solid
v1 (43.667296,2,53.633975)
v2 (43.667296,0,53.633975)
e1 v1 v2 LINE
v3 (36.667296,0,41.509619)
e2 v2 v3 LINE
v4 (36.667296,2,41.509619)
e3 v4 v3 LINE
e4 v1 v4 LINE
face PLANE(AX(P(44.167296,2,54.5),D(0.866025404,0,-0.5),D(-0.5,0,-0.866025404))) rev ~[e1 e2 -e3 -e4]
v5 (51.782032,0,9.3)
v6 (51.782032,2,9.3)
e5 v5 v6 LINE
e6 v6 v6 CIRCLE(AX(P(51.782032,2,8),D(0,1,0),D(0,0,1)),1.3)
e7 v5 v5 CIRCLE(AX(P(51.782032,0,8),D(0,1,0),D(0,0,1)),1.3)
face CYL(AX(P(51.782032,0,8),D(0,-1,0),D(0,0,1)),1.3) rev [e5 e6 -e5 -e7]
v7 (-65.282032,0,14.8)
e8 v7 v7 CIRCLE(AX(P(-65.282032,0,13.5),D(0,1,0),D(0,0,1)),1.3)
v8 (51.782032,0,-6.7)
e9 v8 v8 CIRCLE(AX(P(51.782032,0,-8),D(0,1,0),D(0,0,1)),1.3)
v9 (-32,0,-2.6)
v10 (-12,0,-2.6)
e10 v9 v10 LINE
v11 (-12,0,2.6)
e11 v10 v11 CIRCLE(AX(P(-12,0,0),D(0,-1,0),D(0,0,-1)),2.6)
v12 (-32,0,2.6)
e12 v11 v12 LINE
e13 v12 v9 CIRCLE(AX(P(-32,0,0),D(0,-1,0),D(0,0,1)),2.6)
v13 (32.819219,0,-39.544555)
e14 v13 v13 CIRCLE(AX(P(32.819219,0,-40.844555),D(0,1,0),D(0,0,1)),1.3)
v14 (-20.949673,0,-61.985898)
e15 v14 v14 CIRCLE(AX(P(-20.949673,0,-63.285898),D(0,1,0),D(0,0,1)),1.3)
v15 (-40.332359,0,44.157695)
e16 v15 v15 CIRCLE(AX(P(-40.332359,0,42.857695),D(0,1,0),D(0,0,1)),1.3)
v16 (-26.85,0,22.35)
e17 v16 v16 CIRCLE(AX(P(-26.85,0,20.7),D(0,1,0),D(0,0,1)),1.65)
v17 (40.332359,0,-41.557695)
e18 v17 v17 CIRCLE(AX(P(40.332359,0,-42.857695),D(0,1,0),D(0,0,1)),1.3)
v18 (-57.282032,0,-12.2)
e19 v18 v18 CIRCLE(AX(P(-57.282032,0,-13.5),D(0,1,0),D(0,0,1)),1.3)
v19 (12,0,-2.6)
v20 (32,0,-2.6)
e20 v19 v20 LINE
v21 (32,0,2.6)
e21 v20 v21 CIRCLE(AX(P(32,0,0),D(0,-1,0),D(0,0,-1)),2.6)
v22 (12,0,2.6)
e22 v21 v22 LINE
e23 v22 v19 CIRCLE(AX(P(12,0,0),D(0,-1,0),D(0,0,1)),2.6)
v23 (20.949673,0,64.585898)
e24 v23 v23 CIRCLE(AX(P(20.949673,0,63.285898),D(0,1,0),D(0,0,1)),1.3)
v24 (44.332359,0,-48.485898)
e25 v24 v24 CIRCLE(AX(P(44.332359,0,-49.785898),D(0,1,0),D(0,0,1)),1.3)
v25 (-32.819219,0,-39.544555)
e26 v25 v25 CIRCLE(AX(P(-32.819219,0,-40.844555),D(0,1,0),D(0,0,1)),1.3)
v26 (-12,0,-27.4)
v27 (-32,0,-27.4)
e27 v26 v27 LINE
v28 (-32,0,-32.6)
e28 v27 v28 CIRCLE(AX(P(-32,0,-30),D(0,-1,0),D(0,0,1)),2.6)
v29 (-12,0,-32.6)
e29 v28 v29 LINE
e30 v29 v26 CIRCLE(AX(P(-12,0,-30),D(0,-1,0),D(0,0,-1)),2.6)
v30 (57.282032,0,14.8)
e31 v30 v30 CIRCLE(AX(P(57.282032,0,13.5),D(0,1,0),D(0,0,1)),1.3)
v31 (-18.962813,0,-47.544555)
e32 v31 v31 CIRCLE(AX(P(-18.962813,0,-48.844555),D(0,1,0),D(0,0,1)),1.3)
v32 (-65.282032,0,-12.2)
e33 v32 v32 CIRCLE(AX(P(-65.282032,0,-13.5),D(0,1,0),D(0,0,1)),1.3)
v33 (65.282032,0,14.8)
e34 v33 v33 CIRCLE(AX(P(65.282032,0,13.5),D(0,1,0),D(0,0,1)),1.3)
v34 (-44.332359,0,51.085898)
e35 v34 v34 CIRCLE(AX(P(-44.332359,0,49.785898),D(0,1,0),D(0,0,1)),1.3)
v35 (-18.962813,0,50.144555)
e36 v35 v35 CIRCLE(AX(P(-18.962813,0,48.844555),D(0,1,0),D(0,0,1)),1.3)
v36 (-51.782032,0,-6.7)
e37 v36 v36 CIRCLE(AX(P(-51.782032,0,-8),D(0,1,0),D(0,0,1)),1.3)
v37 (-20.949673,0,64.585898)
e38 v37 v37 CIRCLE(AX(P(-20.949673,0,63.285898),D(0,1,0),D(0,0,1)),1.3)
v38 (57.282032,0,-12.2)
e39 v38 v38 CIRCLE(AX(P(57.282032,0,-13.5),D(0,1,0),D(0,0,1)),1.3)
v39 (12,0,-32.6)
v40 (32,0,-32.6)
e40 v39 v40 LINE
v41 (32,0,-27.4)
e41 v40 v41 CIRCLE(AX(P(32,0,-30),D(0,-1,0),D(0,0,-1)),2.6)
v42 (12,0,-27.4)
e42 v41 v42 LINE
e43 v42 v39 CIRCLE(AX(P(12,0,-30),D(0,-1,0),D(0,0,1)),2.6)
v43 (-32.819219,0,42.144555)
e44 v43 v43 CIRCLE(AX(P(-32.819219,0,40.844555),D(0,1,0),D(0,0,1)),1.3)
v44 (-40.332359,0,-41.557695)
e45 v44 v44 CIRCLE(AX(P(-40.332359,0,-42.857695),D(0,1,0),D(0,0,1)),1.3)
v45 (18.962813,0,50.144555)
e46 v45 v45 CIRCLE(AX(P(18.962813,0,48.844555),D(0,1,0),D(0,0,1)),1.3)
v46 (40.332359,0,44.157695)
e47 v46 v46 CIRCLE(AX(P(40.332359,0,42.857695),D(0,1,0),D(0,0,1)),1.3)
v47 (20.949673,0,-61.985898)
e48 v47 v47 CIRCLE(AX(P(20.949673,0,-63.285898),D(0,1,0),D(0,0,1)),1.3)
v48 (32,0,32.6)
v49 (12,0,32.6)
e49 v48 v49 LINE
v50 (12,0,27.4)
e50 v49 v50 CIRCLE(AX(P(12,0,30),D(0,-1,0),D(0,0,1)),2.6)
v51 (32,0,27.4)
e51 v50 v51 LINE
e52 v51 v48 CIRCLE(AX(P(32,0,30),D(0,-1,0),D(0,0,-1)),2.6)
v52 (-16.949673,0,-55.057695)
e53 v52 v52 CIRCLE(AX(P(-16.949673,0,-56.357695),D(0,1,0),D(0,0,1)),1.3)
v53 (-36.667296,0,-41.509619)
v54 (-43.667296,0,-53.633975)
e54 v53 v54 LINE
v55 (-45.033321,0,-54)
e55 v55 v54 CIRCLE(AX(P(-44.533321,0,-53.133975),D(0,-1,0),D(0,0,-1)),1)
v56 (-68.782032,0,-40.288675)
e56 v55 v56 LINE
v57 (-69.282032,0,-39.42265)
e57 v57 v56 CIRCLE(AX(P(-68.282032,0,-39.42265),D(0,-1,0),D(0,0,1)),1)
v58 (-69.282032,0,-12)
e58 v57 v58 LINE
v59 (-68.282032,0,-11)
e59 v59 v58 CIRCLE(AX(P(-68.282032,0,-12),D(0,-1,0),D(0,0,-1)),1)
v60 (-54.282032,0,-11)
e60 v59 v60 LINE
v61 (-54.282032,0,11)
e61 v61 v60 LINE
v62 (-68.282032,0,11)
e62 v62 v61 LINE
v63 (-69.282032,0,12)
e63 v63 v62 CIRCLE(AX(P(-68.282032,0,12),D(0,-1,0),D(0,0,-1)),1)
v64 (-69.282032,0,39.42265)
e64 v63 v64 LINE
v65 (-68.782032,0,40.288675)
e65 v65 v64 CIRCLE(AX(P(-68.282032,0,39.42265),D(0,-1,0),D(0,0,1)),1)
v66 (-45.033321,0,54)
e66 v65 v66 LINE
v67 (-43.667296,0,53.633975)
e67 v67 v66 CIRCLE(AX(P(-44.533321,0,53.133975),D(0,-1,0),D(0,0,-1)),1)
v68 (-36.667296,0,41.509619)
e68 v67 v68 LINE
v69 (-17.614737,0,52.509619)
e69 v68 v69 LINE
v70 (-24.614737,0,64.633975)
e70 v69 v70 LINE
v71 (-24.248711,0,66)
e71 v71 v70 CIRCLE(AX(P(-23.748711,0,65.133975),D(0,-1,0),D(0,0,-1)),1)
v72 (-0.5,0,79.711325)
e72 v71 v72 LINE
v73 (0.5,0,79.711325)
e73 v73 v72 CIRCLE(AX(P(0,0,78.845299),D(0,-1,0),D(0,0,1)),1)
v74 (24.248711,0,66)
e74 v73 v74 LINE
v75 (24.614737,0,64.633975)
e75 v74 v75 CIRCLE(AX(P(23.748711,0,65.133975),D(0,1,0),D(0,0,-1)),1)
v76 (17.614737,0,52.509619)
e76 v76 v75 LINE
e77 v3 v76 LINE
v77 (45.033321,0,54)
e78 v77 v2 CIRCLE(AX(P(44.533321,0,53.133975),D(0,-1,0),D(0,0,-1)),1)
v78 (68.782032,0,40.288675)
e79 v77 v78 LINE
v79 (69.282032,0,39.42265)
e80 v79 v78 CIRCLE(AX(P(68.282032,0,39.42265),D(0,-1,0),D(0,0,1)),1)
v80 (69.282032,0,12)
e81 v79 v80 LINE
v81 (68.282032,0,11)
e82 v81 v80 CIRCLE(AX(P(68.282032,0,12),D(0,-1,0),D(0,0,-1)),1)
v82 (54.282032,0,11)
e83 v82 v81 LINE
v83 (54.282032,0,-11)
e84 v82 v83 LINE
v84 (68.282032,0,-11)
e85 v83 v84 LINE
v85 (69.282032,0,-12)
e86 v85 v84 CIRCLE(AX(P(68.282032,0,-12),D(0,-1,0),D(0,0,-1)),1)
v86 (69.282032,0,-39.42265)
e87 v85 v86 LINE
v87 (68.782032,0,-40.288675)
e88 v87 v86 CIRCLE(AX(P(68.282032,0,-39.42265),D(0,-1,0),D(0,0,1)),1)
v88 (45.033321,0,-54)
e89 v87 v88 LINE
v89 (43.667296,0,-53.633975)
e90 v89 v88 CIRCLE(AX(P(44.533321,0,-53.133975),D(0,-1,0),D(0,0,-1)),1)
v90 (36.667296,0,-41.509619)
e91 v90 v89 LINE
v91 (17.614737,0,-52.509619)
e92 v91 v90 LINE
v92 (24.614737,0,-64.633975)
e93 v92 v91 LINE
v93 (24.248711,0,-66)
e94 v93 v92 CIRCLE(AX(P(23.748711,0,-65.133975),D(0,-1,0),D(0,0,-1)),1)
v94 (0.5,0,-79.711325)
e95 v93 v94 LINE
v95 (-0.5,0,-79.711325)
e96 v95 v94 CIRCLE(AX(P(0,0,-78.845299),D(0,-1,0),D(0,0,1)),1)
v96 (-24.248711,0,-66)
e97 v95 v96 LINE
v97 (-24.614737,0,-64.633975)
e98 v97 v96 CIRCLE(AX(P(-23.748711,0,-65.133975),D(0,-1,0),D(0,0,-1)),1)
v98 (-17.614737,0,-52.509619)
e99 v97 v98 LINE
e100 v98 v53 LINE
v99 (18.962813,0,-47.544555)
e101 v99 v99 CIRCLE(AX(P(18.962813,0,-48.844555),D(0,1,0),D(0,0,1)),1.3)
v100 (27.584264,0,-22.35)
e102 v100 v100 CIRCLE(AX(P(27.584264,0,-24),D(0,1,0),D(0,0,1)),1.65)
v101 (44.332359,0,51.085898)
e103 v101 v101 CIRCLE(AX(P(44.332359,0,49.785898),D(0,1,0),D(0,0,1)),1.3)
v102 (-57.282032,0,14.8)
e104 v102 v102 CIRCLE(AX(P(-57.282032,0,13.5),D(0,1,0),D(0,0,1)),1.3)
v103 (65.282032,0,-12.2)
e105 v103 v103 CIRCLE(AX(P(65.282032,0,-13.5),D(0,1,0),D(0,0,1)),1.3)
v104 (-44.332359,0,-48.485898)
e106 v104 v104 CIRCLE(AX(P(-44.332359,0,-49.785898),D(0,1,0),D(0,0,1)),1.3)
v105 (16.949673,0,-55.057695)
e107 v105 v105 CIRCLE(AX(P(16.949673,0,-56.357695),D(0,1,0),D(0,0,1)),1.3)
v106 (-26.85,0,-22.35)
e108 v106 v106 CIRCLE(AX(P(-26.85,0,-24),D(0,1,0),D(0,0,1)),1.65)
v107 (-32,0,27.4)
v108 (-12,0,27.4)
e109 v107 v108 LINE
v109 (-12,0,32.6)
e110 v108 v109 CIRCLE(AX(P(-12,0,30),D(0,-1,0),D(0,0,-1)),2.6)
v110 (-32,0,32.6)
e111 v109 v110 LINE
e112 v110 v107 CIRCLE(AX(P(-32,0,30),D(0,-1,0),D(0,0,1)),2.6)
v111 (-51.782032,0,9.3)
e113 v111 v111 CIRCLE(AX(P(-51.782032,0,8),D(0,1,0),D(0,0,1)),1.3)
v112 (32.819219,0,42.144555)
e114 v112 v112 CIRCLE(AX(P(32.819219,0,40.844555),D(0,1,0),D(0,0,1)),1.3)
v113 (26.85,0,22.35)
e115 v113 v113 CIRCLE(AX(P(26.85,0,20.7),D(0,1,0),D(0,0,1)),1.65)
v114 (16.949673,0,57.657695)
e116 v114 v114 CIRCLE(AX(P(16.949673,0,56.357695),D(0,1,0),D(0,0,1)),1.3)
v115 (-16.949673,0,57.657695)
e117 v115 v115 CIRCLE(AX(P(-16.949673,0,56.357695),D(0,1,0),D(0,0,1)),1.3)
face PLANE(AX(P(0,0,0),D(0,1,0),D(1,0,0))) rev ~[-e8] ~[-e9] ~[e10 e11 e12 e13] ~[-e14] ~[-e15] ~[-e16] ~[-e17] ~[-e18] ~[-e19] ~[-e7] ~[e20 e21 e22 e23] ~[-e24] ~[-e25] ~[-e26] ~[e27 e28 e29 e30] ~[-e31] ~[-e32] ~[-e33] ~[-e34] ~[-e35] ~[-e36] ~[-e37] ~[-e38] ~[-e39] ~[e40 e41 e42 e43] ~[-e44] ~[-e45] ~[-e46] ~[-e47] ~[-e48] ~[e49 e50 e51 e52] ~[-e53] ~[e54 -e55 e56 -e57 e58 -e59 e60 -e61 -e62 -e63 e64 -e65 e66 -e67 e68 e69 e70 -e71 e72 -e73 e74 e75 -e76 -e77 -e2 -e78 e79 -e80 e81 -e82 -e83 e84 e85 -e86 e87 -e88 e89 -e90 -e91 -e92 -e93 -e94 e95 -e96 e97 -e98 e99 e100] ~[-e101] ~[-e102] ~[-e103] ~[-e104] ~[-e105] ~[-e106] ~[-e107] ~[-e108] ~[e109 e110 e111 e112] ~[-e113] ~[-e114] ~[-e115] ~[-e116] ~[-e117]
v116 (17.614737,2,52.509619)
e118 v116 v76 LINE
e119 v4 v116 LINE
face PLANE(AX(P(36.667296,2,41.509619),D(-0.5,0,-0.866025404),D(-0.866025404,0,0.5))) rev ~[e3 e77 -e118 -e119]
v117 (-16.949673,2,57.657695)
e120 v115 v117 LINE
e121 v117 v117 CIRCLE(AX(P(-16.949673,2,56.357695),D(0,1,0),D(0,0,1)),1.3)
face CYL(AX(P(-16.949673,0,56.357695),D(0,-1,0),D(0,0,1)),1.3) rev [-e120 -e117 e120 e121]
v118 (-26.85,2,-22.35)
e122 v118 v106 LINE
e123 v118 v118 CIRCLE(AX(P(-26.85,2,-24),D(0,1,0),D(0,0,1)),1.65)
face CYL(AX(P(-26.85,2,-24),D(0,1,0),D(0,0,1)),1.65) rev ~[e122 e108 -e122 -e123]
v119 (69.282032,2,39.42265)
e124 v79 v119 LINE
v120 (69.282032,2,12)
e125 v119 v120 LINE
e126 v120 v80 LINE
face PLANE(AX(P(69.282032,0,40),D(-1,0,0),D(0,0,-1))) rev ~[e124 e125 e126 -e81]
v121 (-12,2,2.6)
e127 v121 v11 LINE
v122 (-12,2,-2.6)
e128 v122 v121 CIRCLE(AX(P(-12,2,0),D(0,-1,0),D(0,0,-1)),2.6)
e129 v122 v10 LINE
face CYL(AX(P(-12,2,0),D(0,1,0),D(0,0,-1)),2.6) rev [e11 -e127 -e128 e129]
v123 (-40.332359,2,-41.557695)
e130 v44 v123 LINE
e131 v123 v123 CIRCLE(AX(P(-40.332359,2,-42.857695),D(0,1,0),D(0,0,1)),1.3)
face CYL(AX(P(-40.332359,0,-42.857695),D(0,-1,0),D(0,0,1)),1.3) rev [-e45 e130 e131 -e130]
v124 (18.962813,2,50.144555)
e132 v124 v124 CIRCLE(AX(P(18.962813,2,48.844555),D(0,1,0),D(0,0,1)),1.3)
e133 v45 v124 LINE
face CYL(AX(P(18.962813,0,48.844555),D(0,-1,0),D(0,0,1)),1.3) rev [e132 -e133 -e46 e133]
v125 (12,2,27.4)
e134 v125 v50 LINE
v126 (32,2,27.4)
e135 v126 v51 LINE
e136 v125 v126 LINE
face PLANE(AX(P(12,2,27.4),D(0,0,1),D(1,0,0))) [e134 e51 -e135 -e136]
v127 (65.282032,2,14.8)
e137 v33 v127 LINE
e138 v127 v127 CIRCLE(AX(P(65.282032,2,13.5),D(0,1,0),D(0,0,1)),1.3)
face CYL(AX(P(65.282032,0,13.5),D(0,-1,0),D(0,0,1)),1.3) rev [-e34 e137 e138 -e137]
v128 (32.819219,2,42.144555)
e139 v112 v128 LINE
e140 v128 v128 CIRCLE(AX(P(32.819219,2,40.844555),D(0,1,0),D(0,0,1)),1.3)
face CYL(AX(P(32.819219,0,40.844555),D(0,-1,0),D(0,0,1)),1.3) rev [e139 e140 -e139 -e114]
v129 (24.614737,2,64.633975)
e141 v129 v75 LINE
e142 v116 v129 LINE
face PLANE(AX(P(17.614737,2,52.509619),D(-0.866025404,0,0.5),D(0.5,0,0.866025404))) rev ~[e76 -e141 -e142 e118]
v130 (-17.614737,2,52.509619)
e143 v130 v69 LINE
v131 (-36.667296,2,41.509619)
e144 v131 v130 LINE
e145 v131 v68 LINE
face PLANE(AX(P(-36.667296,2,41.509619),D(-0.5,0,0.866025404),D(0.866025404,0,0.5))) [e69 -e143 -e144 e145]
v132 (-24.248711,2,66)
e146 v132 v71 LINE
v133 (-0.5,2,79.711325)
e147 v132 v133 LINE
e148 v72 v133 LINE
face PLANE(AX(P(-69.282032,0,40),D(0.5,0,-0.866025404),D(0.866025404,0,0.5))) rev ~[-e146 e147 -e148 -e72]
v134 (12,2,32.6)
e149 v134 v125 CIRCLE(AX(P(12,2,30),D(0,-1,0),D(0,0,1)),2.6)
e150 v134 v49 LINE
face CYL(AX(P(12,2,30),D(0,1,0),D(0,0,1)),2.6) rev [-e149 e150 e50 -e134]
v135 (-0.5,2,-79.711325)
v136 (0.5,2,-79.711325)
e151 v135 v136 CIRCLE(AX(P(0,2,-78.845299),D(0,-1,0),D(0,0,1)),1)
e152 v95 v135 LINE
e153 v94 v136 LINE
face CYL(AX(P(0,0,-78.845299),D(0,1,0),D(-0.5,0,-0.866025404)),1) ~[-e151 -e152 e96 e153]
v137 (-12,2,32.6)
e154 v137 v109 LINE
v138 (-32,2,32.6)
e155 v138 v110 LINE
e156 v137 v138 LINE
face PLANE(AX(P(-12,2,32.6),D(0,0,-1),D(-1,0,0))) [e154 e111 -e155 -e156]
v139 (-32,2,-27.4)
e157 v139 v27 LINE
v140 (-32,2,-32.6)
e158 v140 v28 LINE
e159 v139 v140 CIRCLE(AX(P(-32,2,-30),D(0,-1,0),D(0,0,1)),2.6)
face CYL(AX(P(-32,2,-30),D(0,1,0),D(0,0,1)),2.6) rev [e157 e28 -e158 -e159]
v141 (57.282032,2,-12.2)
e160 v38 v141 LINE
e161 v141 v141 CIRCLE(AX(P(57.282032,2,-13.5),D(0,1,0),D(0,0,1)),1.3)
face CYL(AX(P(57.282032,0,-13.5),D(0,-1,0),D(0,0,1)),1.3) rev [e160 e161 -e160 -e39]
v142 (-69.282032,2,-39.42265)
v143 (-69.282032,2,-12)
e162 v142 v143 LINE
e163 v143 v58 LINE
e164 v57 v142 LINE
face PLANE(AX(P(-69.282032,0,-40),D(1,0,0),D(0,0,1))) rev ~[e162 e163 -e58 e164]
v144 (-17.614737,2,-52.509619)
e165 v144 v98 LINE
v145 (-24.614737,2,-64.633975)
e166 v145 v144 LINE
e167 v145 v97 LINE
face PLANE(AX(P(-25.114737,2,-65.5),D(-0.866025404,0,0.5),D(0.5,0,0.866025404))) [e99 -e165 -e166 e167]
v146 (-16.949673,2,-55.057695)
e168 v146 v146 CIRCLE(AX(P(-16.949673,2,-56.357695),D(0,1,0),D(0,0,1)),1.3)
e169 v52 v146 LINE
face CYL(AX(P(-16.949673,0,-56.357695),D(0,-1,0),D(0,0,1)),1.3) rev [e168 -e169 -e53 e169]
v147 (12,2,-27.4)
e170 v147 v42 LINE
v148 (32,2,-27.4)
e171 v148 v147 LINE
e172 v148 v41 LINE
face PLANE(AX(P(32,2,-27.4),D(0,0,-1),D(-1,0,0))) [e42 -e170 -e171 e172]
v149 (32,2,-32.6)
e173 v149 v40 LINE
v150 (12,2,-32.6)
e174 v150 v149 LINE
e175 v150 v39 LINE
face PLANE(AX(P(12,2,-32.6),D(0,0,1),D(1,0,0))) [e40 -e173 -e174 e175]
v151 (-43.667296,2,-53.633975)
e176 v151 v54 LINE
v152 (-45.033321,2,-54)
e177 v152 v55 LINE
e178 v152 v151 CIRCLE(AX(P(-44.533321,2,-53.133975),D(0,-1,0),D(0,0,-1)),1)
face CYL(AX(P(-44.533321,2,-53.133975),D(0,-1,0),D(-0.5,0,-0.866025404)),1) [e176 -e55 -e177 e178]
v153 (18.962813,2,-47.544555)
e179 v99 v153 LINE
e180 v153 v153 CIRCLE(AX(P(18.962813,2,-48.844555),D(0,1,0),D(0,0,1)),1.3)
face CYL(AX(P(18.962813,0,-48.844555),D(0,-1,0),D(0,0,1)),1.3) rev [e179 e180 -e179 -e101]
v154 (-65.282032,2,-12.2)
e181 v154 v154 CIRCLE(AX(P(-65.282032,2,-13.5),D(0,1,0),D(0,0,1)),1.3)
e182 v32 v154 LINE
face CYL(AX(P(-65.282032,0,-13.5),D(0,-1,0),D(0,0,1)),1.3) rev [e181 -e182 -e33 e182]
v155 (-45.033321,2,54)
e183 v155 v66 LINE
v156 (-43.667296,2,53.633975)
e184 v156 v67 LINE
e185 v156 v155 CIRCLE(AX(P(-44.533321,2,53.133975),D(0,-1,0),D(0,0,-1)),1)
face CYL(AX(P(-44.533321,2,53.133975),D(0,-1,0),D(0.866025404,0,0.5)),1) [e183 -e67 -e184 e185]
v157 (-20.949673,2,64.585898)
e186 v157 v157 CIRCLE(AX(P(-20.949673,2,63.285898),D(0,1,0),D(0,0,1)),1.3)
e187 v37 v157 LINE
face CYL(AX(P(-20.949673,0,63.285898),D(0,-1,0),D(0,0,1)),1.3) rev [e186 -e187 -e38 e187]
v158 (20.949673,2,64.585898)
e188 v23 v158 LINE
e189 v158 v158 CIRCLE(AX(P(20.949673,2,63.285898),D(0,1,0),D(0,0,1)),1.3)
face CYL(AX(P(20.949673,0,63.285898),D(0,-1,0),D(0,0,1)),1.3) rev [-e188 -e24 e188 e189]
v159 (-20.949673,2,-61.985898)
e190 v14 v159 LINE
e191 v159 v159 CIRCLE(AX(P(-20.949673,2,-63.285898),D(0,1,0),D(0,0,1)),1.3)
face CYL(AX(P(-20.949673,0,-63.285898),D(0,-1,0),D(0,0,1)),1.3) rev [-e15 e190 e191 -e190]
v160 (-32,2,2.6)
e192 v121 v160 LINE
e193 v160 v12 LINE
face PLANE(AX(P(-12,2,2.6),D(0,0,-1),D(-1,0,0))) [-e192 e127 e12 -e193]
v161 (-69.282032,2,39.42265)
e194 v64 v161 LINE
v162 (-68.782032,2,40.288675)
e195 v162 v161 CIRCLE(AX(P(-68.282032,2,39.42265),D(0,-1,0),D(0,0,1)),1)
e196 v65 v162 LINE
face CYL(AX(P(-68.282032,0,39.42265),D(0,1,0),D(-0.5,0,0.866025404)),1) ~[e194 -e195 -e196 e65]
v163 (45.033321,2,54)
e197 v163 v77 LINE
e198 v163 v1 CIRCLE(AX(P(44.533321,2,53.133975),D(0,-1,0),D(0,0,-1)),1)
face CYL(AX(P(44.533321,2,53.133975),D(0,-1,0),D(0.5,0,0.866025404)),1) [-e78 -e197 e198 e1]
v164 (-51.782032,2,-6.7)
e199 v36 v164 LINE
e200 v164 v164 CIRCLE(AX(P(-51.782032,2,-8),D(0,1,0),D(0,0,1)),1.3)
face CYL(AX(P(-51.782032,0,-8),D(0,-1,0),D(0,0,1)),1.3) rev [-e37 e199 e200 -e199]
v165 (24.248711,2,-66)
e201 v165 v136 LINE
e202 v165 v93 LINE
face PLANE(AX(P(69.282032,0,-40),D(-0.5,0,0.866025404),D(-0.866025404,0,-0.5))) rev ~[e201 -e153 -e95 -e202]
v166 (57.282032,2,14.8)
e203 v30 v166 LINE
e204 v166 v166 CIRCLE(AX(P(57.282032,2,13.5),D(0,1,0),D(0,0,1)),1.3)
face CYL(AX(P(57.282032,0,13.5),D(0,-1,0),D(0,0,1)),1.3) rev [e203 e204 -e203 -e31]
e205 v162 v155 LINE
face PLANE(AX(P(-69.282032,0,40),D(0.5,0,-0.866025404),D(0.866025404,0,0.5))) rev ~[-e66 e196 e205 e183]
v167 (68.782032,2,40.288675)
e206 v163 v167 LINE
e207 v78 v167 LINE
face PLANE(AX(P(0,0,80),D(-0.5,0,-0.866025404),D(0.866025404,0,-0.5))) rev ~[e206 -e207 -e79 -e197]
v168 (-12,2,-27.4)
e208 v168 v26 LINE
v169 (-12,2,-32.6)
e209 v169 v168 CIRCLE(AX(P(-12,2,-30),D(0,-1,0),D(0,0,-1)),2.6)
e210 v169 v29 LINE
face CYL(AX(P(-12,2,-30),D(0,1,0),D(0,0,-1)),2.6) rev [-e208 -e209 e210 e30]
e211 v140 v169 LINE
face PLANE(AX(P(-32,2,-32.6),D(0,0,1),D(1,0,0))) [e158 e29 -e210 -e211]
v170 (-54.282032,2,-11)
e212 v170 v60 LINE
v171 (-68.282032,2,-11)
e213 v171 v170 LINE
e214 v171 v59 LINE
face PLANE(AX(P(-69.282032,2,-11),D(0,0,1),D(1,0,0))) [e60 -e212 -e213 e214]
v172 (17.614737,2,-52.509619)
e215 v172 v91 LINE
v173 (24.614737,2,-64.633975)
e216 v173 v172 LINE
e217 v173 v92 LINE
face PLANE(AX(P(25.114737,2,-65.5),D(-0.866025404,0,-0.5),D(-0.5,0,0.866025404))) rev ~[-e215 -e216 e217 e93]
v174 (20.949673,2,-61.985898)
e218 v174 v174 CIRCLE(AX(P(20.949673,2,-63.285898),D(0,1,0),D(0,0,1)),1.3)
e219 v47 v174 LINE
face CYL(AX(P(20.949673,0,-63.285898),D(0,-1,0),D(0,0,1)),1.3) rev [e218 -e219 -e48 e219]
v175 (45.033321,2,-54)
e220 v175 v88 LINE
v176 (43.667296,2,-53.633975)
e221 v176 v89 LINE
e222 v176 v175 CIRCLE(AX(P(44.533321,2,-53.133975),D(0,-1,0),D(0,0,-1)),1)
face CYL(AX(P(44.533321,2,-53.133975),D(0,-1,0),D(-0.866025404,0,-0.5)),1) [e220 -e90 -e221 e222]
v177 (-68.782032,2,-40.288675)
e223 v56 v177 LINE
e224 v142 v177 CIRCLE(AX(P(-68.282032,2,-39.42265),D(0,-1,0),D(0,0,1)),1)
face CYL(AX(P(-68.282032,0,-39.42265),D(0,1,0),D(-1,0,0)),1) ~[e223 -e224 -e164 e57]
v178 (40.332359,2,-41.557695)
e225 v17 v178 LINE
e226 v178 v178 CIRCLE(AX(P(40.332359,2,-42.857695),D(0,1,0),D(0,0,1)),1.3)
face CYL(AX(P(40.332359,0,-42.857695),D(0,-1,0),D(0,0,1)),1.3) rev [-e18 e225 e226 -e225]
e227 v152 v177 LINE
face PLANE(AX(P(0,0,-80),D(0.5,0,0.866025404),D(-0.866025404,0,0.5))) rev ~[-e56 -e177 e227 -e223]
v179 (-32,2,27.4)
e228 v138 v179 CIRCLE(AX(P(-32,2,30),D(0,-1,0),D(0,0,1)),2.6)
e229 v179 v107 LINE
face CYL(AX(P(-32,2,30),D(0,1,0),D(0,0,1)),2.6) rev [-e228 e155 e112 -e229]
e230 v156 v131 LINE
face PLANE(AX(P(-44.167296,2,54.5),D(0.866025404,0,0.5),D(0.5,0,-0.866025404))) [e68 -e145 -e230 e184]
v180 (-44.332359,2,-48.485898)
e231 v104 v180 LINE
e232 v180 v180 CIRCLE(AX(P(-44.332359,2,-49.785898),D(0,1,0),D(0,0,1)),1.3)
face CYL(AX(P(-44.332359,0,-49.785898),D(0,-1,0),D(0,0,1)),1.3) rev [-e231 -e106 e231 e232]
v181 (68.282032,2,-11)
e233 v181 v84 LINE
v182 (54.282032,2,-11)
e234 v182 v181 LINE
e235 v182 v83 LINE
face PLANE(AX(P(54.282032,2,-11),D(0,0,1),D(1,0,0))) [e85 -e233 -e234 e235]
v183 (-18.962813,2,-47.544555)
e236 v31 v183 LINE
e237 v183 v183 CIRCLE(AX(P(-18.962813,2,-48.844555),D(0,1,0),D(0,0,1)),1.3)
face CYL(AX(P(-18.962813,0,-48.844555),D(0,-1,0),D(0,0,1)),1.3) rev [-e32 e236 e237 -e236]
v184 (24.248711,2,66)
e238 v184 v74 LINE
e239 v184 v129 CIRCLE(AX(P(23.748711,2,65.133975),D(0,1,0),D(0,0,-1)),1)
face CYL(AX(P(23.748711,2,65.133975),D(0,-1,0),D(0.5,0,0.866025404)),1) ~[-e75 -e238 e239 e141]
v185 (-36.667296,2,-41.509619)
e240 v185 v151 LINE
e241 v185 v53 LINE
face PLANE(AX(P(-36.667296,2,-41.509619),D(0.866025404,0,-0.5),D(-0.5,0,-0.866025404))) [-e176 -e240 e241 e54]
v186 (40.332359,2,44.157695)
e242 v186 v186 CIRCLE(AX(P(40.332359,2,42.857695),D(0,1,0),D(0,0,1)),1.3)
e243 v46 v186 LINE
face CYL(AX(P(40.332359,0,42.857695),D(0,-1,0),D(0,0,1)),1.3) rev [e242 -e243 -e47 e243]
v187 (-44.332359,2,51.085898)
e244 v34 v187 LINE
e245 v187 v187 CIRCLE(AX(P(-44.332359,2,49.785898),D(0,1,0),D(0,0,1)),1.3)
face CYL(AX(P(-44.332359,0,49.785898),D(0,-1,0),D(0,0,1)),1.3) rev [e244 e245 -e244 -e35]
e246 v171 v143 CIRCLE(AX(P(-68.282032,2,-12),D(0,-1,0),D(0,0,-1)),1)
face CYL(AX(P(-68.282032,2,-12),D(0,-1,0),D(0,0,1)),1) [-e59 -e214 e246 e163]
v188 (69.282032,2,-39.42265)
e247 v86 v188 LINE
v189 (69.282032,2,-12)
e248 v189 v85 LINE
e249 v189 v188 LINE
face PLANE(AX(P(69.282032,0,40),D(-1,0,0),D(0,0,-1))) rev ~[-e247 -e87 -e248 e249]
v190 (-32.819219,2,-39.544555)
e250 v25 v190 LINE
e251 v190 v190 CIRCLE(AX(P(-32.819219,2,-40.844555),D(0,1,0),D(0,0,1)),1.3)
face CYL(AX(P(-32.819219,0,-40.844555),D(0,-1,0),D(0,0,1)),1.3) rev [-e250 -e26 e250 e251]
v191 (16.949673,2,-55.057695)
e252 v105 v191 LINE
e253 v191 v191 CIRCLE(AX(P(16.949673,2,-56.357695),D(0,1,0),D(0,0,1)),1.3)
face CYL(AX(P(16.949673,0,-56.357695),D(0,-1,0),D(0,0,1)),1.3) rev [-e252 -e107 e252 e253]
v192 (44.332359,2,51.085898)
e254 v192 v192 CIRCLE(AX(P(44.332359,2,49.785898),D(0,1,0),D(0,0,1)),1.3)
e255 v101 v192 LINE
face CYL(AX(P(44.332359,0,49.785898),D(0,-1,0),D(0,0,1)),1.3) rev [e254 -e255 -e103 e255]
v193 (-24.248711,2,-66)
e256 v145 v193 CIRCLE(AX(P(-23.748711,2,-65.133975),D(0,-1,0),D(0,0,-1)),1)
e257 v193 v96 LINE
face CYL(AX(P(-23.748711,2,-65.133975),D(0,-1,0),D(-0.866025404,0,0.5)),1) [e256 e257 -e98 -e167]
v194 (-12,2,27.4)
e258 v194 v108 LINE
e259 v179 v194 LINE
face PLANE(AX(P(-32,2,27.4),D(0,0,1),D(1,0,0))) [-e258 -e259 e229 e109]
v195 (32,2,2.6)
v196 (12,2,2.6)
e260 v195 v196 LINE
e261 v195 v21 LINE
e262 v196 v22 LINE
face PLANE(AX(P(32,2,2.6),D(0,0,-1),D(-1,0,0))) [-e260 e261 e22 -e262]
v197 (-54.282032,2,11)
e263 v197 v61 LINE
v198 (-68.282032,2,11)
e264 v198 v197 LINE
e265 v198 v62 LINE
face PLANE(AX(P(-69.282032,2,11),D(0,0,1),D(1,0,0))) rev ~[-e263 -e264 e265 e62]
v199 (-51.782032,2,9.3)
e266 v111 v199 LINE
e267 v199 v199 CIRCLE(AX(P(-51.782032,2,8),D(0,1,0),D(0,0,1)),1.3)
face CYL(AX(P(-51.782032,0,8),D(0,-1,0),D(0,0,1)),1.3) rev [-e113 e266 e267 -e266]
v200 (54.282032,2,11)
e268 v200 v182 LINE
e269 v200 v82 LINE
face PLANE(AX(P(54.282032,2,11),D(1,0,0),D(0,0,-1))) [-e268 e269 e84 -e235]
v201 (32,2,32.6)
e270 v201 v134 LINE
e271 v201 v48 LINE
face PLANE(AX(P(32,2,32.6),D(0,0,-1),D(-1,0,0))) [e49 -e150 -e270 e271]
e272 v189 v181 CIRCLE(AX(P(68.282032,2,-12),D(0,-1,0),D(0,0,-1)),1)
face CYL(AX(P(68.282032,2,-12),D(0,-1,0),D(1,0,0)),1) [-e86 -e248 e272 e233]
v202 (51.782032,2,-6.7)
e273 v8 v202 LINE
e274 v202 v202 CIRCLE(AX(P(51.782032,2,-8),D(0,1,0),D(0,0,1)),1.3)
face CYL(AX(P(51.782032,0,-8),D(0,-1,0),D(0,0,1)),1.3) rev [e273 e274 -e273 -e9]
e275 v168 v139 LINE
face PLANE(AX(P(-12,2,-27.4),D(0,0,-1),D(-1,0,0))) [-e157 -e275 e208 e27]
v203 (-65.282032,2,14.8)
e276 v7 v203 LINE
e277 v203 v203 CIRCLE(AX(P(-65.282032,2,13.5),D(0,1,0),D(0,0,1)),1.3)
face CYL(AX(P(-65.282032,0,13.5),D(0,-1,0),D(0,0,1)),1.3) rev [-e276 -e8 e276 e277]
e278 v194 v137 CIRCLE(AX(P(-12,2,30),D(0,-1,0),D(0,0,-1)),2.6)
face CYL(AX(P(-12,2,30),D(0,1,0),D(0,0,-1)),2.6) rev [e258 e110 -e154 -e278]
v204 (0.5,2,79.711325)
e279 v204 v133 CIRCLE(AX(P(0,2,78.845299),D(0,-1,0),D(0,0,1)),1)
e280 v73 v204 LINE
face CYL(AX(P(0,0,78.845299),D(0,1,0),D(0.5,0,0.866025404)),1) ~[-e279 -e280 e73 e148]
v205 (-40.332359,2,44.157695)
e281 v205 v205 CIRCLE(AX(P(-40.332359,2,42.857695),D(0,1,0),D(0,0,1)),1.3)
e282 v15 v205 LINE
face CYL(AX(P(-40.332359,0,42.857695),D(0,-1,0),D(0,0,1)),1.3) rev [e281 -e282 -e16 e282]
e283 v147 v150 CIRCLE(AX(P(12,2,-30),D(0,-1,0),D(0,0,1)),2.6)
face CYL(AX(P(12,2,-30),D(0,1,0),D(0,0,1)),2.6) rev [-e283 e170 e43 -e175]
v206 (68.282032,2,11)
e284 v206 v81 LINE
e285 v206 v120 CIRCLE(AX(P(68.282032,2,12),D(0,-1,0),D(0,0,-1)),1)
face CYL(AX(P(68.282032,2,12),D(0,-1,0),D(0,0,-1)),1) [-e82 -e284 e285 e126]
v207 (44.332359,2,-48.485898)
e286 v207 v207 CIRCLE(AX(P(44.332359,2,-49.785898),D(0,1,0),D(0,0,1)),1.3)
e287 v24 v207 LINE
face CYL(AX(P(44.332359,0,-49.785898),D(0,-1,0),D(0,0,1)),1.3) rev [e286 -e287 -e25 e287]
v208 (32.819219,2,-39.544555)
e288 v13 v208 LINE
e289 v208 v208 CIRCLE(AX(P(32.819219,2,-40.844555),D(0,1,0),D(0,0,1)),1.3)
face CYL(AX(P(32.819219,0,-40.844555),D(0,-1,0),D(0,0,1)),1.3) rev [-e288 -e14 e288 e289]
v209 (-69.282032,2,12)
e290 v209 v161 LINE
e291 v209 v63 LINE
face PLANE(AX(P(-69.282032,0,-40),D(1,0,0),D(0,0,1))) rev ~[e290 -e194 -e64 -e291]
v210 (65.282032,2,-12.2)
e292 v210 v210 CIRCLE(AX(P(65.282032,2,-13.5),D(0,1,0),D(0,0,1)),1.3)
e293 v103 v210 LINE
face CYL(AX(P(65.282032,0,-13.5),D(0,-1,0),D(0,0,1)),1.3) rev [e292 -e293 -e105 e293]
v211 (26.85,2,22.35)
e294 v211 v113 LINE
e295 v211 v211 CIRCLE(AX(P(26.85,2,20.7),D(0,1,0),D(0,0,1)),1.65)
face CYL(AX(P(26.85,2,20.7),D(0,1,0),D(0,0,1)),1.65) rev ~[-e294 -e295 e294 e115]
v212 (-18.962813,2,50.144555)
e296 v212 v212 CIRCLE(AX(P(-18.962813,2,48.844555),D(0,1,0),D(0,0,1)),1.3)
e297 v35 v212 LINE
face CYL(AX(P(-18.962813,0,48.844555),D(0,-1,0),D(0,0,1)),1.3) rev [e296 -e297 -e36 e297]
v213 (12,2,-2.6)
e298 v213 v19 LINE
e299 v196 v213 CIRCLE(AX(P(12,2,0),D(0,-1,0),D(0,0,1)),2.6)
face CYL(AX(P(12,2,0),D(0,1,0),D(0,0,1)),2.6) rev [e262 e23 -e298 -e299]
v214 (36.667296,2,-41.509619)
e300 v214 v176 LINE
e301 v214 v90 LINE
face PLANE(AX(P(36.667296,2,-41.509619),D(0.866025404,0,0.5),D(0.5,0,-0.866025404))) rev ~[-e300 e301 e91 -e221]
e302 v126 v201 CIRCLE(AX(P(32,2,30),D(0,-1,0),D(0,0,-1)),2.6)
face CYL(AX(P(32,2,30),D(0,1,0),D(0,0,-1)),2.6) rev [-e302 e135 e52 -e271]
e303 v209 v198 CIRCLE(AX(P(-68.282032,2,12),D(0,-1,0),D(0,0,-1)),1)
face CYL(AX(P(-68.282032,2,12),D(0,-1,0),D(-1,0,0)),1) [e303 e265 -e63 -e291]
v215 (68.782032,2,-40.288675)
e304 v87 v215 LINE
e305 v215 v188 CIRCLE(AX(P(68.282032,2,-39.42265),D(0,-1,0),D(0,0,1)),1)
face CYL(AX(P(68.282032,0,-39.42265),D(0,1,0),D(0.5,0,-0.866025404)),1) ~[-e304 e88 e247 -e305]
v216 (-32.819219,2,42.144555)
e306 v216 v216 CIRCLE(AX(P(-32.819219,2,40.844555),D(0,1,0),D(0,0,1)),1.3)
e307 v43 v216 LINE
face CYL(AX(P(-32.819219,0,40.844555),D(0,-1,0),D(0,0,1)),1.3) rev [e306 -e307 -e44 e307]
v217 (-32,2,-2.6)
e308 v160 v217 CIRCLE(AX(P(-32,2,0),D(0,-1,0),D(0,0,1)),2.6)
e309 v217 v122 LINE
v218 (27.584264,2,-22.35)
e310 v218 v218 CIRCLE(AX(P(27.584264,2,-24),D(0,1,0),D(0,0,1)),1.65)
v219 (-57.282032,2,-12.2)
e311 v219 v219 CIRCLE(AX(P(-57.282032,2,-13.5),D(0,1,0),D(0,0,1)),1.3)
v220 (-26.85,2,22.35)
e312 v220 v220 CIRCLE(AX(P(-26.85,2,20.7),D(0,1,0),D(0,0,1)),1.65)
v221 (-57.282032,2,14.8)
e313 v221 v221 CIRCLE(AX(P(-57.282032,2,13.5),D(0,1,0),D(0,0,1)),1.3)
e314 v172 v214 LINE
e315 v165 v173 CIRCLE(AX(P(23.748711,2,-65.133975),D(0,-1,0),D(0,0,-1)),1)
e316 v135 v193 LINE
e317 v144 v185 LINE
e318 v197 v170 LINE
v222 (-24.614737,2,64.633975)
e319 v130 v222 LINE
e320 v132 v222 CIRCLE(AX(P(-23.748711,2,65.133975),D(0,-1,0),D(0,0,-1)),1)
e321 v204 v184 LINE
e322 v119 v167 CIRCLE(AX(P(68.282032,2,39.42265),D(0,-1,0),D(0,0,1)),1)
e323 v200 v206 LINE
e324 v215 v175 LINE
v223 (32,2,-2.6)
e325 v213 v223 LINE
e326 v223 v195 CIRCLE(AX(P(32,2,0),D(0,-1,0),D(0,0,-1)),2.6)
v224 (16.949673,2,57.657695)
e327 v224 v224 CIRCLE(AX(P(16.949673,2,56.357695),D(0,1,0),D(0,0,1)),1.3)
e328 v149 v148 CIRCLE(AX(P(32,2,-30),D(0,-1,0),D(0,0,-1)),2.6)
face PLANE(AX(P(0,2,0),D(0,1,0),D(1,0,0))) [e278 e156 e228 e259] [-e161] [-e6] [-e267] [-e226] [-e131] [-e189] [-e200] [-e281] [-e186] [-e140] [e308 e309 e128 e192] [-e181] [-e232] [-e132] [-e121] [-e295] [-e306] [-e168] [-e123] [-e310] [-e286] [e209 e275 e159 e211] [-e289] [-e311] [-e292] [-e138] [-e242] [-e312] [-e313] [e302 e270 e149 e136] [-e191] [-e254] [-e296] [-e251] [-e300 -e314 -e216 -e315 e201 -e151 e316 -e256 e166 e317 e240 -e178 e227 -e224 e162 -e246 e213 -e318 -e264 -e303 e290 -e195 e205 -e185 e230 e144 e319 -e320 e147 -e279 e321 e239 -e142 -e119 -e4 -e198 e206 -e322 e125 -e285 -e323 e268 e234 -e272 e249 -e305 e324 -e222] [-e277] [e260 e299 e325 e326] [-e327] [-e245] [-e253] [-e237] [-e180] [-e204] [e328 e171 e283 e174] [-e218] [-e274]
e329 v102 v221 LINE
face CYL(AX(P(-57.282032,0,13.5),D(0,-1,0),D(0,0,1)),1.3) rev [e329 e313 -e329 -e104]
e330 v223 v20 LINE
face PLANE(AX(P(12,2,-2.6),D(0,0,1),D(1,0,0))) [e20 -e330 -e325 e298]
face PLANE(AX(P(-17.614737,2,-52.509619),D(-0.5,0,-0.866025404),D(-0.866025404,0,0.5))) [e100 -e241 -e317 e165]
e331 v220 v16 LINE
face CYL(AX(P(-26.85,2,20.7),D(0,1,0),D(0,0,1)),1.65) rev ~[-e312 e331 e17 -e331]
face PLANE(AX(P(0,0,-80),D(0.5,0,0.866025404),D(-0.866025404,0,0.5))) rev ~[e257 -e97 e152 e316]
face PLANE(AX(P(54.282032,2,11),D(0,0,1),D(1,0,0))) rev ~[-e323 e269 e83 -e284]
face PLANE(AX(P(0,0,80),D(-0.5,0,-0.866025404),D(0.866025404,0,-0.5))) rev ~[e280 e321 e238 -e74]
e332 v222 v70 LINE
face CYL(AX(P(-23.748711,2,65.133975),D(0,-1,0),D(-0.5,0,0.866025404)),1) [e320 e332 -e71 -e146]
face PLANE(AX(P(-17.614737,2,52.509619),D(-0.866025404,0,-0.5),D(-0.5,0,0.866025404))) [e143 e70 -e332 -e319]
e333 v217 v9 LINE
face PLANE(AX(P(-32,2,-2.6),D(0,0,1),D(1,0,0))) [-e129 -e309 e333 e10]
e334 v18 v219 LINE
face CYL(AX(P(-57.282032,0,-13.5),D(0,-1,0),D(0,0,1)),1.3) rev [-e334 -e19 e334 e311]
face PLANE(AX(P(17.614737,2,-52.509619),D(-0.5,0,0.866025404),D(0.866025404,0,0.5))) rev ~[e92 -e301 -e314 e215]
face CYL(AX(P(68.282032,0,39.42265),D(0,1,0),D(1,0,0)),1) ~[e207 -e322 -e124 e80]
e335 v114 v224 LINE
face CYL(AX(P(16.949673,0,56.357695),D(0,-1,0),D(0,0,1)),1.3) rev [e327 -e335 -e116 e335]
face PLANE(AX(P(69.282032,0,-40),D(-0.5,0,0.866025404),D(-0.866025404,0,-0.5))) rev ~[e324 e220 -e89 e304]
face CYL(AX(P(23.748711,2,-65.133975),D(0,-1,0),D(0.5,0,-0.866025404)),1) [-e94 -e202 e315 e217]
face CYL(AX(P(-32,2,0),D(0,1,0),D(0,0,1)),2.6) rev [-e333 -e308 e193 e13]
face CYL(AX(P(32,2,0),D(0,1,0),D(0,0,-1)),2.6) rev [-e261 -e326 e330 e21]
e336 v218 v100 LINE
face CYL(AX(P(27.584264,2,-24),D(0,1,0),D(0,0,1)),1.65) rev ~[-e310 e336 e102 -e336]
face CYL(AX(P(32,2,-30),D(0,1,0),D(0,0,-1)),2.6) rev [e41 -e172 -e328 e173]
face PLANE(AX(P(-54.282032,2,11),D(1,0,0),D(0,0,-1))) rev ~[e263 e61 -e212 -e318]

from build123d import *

# Parameters (mm, degrees)
SKETCH1_R           = 1.3
BOSS_EXTRUDE1_DEPTH = 2
SKETCH2_W           = 15
SKETCH2_H           = 22
CUT_EXTRUDE1_DEPTH  = 2
FILLET1_R           = 1
CUT_EXTRUDE2_DEPTH  = 2
SKETCH5_R           = 1.65
CUT_EXTRUDE3_DEPTH  = 2


with BuildPart() as part:
    # Sketch1 → Boss-Extrude1 (new body)
    with BuildSketch(Plane(origin=(0, 0, 0), x_dir=(1, 0, 0), z_dir=(0, 1, 0))):
        Polygon((0, -80), (69.282032303, -40), (69.282032303, 40), (0, 80), (-69.282032303, 40), (-69.282032303, -40), align=None)
        with Locations(Location((65.282032303, 13.5, 0), (0, 0, 270))):
            Circle(SKETCH1_R, mode=Mode.SUBTRACT)
        with Locations(Location((57.282032303, 13.5, 0), (0, 0, 270))):
            Circle(SKETCH1_R, mode=Mode.SUBTRACT)
        with Locations(Location((51.782032303, 8, 0), (0, 0, 270))):
            Circle(SKETCH1_R, mode=Mode.SUBTRACT)
        with Locations(Location((51.782032303, -8, 0), (0, 0, 270))):
            Circle(SKETCH1_R, mode=Mode.SUBTRACT)
        with Locations(Location((57.282032303, -13.5, 0), (0, 0, 270))):
            Circle(SKETCH1_R, mode=Mode.SUBTRACT)
        with Locations(Location((65.282032303, -13.5, 0), (0, 0, 270))):
            Circle(SKETCH1_R, mode=Mode.SUBTRACT)
        with Locations(Location((32.819219382, -40.844555434, 0), (0, 0, 270))):
            Circle(SKETCH1_R, mode=Mode.SUBTRACT)
        with Locations(Location((20.9496732, -63.285898385, 0), (0, 0, 270))):
            Circle(SKETCH1_R, mode=Mode.SUBTRACT)
        with Locations(Location((16.9496732, -56.357695155, 0), (0, 0, 270))):
            Circle(SKETCH1_R, mode=Mode.SUBTRACT)
        with Locations(Location((18.962812921, -48.844555434, 0), (0, 0, 270))):
            Circle(SKETCH1_R, mode=Mode.SUBTRACT)
        with Locations(Location((44.332359102, -49.785898385, 0), (0, 0, 270))):
            Circle(SKETCH1_R, mode=Mode.SUBTRACT)
        with Locations(Location((40.332359102, -42.857695155, 0), (0, 0, 270))):
            Circle(SKETCH1_R, mode=Mode.SUBTRACT)
        with Locations(Location((-44.332359102, -49.785898385, 0), (0, 0, 270))):
            Circle(SKETCH1_R, mode=Mode.SUBTRACT)
        with Locations(Location((-40.332359102, -42.857695155, 0), (0, 0, 270))):
            Circle(SKETCH1_R, mode=Mode.SUBTRACT)
        with Locations(Location((-32.819219382, -40.844555434, 0), (0, 0, 270))):
            Circle(SKETCH1_R, mode=Mode.SUBTRACT)
        with Locations(Location((-18.962812921, -48.844555434, 0), (0, 0, 270))):
            Circle(SKETCH1_R, mode=Mode.SUBTRACT)
        with Locations(Location((-16.9496732, -56.357695155, 0), (0, 0, 270))):
            Circle(SKETCH1_R, mode=Mode.SUBTRACT)
        with Locations(Location((-20.9496732, -63.285898385, 0), (0, 0, 270))):
            Circle(SKETCH1_R, mode=Mode.SUBTRACT)
        with Locations(Location((18.962812921, 48.844555434, 0), (0, 0, 270))):
            Circle(SKETCH1_R, mode=Mode.SUBTRACT)
        with Locations(Location((44.332359102, 49.785898385, 0), (0, 0, 270))):
            Circle(SKETCH1_R, mode=Mode.SUBTRACT)
        with Locations(Location((40.332359102, 42.857695155, 0), (0, 0, 270))):
            Circle(SKETCH1_R, mode=Mode.SUBTRACT)
        with Locations(Location((32.819219382, 40.844555434, 0), (0, 0, 270))):
            Circle(SKETCH1_R, mode=Mode.SUBTRACT)
        with Locations(Location((20.9496732, 63.285898385, 0), (0, 0, 270))):
            Circle(SKETCH1_R, mode=Mode.SUBTRACT)
        with Locations(Location((16.9496732, 56.357695155, 0), (0, 0, 270))):
            Circle(SKETCH1_R, mode=Mode.SUBTRACT)
        with Locations(Location((-65.282032303, 13.5, 0), (0, 0, 270))):
            Circle(SKETCH1_R, mode=Mode.SUBTRACT)
        with Locations(Location((-20.9496732, 63.285898385, 0), (0, 0, 270))):
            Circle(SKETCH1_R, mode=Mode.SUBTRACT)
        with Locations(Location((-16.9496732, 56.357695155, 0), (0, 0, 270))):
            Circle(SKETCH1_R, mode=Mode.SUBTRACT)
        with Locations(Location((-18.962812921, 48.844555434, 0), (0, 0, 270))):
            Circle(SKETCH1_R, mode=Mode.SUBTRACT)
        with Locations(Location((-32.819219382, 40.844555434, 0), (0, 0, 270))):
            Circle(SKETCH1_R, mode=Mode.SUBTRACT)
        with Locations(Location((-44.332359102, 49.785898385, 0), (0, 0, 270))):
            Circle(SKETCH1_R, mode=Mode.SUBTRACT)
        with Locations(Location((-40.332359102, 42.857695155, 0), (0, 0, 270))):
            Circle(SKETCH1_R, mode=Mode.SUBTRACT)
        with Locations(Location((-57.282032303, 13.5, 0), (0, 0, 270))):
            Circle(SKETCH1_R, mode=Mode.SUBTRACT)
        with Locations(Location((-51.782032303, 8, 0), (0, 0, 270))):
            Circle(SKETCH1_R, mode=Mode.SUBTRACT)
        with Locations(Location((-51.782032303, -8, 0), (0, 0, 270))):
            Circle(SKETCH1_R, mode=Mode.SUBTRACT)
        with Locations(Location((-57.282032303, -13.5, 0), (0, 0, 270))):
            Circle(SKETCH1_R, mode=Mode.SUBTRACT)
        with Locations(Location((-65.282032303, -13.5, 0), (0, 0, 270))):
            Circle(SKETCH1_R, mode=Mode.SUBTRACT)
    extrude(amount=BOSS_EXTRUDE1_DEPTH)

    # Sketch2 → Cut-Extrude1 (cut)
    with BuildSketch(Plane(origin=(0, 2, 0), x_dir=(1, 0, 0), z_dir=(0, 1, 0))):
        with Locations((61.782032303, 0)):
            Rectangle(SKETCH2_W, SKETCH2_H)
        Polygon((44.167295593, -54.5), (36.667295593, -41.509618943), (17.61473671, -52.509618943), (25.11473671, -65.5), align=None)
        Polygon((-25.11473671, -65.5), (-44.167295593, -54.5), (-36.667295593, -41.509618943), (-17.61473671, -52.509618943), align=None)
        Polygon((25.11473671, 65.5), (17.61473671, 52.509618943), (36.667295593, 41.509618943), (44.167295593, 54.5), align=None)
        Polygon((-44.167295593, 54.5), (-25.11473671, 65.5), (-17.61473671, 52.509618943), (-36.667295593, 41.509618943), align=None)
        with Locations((-61.782032303, 0)):
            Rectangle(SKETCH2_W, SKETCH2_H)
    extrude(amount=-CUT_EXTRUDE1_DEPTH, mode=Mode.SUBTRACT)

    # Fillet1
    fillet1_edges = [part.edges().sort_by_distance(p)[0] for p in [
        (69.282032303, 1, -11),
        (69.282032303, 1, 11),
        (44.167295593, 1, 54.5),
        (25.11473671, 1, 65.5),
        (-25.11473671, 1, 65.5),
        (-44.167295593, 1, 54.5),
        (25.11473671, 1, -65.5),
        (44.167295593, 1, -54.5),
        (-44.167295593, 1, -54.5),
        (-25.11473671, 1, -65.5),
        (-69.282032303, 1, 11),
        (-69.282032303, 1, -11),
        (-69.282032303, 1, -40),
        (0, 1, -80),
        (69.282032303, 1, -40),
        (69.282032303, 1, 40),
        (0, 1, 80),
        (-69.282032303, 1, 40),
    ]]
    fillet(fillet1_edges, radius=FILLET1_R)

    # Sketch3 → Cut-Extrude2 (cut)
    with BuildSketch(Plane(origin=(0, 2, 0), x_dir=(1, 0, 0), z_dir=(0, 1, 0))):
        with BuildLine():
            Line((-32, 32.6), (-12, 32.6))
            ThreePointArc((-12, 32.6), (-9.4, 30), (-12, 27.4))
            Line((-12, 27.4), (-32, 27.4))
            ThreePointArc((-32, 27.4), (-34.6, 30), (-32, 32.6))
        make_face()
        with BuildLine():
            Line((-32, 2.6), (-12, 2.6))
            ThreePointArc((-12, 2.6), (-9.4, 0), (-12, -2.6))
            Line((-12, -2.6), (-32, -2.6))
            ThreePointArc((-32, -2.6), (-34.6, 0), (-32, 2.6))
        make_face()
        with BuildLine():
            Line((-32, -27.4), (-12, -27.4))
            ThreePointArc((-12, -27.4), (-9.4, -30), (-12, -32.6))
            Line((-12, -32.6), (-32, -32.6))
            ThreePointArc((-32, -32.6), (-34.6, -30), (-32, -27.4))
        make_face()
        with BuildLine():
            Line((32, -32.6), (12, -32.6))
            ThreePointArc((12, -32.6), (9.4, -30), (12, -27.4))
            Line((12, -27.4), (32, -27.4))
            ThreePointArc((32, -27.4), (34.6, -30), (32, -32.6))
        make_face()
        with BuildLine():
            Line((32, 27.4), (12, 27.4))
            ThreePointArc((12, 27.4), (9.4, 30), (12, 32.6))
            Line((12, 32.6), (32, 32.6))
            ThreePointArc((32, 32.6), (34.6, 30), (32, 27.4))
        make_face()
        with BuildLine():
            Line((32, -2.6), (12, -2.6))
            ThreePointArc((12, -2.6), (9.4, 0), (12, 2.6))
            Line((12, 2.6), (32, 2.6))
            ThreePointArc((32, 2.6), (34.6, 0), (32, -2.6))
        make_face()
    extrude(amount=-CUT_EXTRUDE2_DEPTH, mode=Mode.SUBTRACT)

    # Sketch5 → Cut-Extrude3 (cut)
    with BuildSketch(Plane(origin=(0, 2, 0), x_dir=(1, 0, 0), z_dir=(0, 1, 0))):
        with Locations(Location((-26.85, 24, 0), (0, 0, 270))):
            Circle(SKETCH5_R)
        with Locations(Location((27.584263601, 24, 0), (0, 0, 270))):
            Circle(SKETCH5_R)
        with Locations(Location((26.85, -20.7, 0), (0, 0, 270))):
            Circle(SKETCH5_R)
        with Locations(Location((-26.85, -20.7, 0), (0, 0, 270))):
            Circle(SKETCH5_R)
    extrude(amount=-CUT_EXTRUDE3_DEPTH, mode=Mode.SUBTRACT)


solid = part.part
